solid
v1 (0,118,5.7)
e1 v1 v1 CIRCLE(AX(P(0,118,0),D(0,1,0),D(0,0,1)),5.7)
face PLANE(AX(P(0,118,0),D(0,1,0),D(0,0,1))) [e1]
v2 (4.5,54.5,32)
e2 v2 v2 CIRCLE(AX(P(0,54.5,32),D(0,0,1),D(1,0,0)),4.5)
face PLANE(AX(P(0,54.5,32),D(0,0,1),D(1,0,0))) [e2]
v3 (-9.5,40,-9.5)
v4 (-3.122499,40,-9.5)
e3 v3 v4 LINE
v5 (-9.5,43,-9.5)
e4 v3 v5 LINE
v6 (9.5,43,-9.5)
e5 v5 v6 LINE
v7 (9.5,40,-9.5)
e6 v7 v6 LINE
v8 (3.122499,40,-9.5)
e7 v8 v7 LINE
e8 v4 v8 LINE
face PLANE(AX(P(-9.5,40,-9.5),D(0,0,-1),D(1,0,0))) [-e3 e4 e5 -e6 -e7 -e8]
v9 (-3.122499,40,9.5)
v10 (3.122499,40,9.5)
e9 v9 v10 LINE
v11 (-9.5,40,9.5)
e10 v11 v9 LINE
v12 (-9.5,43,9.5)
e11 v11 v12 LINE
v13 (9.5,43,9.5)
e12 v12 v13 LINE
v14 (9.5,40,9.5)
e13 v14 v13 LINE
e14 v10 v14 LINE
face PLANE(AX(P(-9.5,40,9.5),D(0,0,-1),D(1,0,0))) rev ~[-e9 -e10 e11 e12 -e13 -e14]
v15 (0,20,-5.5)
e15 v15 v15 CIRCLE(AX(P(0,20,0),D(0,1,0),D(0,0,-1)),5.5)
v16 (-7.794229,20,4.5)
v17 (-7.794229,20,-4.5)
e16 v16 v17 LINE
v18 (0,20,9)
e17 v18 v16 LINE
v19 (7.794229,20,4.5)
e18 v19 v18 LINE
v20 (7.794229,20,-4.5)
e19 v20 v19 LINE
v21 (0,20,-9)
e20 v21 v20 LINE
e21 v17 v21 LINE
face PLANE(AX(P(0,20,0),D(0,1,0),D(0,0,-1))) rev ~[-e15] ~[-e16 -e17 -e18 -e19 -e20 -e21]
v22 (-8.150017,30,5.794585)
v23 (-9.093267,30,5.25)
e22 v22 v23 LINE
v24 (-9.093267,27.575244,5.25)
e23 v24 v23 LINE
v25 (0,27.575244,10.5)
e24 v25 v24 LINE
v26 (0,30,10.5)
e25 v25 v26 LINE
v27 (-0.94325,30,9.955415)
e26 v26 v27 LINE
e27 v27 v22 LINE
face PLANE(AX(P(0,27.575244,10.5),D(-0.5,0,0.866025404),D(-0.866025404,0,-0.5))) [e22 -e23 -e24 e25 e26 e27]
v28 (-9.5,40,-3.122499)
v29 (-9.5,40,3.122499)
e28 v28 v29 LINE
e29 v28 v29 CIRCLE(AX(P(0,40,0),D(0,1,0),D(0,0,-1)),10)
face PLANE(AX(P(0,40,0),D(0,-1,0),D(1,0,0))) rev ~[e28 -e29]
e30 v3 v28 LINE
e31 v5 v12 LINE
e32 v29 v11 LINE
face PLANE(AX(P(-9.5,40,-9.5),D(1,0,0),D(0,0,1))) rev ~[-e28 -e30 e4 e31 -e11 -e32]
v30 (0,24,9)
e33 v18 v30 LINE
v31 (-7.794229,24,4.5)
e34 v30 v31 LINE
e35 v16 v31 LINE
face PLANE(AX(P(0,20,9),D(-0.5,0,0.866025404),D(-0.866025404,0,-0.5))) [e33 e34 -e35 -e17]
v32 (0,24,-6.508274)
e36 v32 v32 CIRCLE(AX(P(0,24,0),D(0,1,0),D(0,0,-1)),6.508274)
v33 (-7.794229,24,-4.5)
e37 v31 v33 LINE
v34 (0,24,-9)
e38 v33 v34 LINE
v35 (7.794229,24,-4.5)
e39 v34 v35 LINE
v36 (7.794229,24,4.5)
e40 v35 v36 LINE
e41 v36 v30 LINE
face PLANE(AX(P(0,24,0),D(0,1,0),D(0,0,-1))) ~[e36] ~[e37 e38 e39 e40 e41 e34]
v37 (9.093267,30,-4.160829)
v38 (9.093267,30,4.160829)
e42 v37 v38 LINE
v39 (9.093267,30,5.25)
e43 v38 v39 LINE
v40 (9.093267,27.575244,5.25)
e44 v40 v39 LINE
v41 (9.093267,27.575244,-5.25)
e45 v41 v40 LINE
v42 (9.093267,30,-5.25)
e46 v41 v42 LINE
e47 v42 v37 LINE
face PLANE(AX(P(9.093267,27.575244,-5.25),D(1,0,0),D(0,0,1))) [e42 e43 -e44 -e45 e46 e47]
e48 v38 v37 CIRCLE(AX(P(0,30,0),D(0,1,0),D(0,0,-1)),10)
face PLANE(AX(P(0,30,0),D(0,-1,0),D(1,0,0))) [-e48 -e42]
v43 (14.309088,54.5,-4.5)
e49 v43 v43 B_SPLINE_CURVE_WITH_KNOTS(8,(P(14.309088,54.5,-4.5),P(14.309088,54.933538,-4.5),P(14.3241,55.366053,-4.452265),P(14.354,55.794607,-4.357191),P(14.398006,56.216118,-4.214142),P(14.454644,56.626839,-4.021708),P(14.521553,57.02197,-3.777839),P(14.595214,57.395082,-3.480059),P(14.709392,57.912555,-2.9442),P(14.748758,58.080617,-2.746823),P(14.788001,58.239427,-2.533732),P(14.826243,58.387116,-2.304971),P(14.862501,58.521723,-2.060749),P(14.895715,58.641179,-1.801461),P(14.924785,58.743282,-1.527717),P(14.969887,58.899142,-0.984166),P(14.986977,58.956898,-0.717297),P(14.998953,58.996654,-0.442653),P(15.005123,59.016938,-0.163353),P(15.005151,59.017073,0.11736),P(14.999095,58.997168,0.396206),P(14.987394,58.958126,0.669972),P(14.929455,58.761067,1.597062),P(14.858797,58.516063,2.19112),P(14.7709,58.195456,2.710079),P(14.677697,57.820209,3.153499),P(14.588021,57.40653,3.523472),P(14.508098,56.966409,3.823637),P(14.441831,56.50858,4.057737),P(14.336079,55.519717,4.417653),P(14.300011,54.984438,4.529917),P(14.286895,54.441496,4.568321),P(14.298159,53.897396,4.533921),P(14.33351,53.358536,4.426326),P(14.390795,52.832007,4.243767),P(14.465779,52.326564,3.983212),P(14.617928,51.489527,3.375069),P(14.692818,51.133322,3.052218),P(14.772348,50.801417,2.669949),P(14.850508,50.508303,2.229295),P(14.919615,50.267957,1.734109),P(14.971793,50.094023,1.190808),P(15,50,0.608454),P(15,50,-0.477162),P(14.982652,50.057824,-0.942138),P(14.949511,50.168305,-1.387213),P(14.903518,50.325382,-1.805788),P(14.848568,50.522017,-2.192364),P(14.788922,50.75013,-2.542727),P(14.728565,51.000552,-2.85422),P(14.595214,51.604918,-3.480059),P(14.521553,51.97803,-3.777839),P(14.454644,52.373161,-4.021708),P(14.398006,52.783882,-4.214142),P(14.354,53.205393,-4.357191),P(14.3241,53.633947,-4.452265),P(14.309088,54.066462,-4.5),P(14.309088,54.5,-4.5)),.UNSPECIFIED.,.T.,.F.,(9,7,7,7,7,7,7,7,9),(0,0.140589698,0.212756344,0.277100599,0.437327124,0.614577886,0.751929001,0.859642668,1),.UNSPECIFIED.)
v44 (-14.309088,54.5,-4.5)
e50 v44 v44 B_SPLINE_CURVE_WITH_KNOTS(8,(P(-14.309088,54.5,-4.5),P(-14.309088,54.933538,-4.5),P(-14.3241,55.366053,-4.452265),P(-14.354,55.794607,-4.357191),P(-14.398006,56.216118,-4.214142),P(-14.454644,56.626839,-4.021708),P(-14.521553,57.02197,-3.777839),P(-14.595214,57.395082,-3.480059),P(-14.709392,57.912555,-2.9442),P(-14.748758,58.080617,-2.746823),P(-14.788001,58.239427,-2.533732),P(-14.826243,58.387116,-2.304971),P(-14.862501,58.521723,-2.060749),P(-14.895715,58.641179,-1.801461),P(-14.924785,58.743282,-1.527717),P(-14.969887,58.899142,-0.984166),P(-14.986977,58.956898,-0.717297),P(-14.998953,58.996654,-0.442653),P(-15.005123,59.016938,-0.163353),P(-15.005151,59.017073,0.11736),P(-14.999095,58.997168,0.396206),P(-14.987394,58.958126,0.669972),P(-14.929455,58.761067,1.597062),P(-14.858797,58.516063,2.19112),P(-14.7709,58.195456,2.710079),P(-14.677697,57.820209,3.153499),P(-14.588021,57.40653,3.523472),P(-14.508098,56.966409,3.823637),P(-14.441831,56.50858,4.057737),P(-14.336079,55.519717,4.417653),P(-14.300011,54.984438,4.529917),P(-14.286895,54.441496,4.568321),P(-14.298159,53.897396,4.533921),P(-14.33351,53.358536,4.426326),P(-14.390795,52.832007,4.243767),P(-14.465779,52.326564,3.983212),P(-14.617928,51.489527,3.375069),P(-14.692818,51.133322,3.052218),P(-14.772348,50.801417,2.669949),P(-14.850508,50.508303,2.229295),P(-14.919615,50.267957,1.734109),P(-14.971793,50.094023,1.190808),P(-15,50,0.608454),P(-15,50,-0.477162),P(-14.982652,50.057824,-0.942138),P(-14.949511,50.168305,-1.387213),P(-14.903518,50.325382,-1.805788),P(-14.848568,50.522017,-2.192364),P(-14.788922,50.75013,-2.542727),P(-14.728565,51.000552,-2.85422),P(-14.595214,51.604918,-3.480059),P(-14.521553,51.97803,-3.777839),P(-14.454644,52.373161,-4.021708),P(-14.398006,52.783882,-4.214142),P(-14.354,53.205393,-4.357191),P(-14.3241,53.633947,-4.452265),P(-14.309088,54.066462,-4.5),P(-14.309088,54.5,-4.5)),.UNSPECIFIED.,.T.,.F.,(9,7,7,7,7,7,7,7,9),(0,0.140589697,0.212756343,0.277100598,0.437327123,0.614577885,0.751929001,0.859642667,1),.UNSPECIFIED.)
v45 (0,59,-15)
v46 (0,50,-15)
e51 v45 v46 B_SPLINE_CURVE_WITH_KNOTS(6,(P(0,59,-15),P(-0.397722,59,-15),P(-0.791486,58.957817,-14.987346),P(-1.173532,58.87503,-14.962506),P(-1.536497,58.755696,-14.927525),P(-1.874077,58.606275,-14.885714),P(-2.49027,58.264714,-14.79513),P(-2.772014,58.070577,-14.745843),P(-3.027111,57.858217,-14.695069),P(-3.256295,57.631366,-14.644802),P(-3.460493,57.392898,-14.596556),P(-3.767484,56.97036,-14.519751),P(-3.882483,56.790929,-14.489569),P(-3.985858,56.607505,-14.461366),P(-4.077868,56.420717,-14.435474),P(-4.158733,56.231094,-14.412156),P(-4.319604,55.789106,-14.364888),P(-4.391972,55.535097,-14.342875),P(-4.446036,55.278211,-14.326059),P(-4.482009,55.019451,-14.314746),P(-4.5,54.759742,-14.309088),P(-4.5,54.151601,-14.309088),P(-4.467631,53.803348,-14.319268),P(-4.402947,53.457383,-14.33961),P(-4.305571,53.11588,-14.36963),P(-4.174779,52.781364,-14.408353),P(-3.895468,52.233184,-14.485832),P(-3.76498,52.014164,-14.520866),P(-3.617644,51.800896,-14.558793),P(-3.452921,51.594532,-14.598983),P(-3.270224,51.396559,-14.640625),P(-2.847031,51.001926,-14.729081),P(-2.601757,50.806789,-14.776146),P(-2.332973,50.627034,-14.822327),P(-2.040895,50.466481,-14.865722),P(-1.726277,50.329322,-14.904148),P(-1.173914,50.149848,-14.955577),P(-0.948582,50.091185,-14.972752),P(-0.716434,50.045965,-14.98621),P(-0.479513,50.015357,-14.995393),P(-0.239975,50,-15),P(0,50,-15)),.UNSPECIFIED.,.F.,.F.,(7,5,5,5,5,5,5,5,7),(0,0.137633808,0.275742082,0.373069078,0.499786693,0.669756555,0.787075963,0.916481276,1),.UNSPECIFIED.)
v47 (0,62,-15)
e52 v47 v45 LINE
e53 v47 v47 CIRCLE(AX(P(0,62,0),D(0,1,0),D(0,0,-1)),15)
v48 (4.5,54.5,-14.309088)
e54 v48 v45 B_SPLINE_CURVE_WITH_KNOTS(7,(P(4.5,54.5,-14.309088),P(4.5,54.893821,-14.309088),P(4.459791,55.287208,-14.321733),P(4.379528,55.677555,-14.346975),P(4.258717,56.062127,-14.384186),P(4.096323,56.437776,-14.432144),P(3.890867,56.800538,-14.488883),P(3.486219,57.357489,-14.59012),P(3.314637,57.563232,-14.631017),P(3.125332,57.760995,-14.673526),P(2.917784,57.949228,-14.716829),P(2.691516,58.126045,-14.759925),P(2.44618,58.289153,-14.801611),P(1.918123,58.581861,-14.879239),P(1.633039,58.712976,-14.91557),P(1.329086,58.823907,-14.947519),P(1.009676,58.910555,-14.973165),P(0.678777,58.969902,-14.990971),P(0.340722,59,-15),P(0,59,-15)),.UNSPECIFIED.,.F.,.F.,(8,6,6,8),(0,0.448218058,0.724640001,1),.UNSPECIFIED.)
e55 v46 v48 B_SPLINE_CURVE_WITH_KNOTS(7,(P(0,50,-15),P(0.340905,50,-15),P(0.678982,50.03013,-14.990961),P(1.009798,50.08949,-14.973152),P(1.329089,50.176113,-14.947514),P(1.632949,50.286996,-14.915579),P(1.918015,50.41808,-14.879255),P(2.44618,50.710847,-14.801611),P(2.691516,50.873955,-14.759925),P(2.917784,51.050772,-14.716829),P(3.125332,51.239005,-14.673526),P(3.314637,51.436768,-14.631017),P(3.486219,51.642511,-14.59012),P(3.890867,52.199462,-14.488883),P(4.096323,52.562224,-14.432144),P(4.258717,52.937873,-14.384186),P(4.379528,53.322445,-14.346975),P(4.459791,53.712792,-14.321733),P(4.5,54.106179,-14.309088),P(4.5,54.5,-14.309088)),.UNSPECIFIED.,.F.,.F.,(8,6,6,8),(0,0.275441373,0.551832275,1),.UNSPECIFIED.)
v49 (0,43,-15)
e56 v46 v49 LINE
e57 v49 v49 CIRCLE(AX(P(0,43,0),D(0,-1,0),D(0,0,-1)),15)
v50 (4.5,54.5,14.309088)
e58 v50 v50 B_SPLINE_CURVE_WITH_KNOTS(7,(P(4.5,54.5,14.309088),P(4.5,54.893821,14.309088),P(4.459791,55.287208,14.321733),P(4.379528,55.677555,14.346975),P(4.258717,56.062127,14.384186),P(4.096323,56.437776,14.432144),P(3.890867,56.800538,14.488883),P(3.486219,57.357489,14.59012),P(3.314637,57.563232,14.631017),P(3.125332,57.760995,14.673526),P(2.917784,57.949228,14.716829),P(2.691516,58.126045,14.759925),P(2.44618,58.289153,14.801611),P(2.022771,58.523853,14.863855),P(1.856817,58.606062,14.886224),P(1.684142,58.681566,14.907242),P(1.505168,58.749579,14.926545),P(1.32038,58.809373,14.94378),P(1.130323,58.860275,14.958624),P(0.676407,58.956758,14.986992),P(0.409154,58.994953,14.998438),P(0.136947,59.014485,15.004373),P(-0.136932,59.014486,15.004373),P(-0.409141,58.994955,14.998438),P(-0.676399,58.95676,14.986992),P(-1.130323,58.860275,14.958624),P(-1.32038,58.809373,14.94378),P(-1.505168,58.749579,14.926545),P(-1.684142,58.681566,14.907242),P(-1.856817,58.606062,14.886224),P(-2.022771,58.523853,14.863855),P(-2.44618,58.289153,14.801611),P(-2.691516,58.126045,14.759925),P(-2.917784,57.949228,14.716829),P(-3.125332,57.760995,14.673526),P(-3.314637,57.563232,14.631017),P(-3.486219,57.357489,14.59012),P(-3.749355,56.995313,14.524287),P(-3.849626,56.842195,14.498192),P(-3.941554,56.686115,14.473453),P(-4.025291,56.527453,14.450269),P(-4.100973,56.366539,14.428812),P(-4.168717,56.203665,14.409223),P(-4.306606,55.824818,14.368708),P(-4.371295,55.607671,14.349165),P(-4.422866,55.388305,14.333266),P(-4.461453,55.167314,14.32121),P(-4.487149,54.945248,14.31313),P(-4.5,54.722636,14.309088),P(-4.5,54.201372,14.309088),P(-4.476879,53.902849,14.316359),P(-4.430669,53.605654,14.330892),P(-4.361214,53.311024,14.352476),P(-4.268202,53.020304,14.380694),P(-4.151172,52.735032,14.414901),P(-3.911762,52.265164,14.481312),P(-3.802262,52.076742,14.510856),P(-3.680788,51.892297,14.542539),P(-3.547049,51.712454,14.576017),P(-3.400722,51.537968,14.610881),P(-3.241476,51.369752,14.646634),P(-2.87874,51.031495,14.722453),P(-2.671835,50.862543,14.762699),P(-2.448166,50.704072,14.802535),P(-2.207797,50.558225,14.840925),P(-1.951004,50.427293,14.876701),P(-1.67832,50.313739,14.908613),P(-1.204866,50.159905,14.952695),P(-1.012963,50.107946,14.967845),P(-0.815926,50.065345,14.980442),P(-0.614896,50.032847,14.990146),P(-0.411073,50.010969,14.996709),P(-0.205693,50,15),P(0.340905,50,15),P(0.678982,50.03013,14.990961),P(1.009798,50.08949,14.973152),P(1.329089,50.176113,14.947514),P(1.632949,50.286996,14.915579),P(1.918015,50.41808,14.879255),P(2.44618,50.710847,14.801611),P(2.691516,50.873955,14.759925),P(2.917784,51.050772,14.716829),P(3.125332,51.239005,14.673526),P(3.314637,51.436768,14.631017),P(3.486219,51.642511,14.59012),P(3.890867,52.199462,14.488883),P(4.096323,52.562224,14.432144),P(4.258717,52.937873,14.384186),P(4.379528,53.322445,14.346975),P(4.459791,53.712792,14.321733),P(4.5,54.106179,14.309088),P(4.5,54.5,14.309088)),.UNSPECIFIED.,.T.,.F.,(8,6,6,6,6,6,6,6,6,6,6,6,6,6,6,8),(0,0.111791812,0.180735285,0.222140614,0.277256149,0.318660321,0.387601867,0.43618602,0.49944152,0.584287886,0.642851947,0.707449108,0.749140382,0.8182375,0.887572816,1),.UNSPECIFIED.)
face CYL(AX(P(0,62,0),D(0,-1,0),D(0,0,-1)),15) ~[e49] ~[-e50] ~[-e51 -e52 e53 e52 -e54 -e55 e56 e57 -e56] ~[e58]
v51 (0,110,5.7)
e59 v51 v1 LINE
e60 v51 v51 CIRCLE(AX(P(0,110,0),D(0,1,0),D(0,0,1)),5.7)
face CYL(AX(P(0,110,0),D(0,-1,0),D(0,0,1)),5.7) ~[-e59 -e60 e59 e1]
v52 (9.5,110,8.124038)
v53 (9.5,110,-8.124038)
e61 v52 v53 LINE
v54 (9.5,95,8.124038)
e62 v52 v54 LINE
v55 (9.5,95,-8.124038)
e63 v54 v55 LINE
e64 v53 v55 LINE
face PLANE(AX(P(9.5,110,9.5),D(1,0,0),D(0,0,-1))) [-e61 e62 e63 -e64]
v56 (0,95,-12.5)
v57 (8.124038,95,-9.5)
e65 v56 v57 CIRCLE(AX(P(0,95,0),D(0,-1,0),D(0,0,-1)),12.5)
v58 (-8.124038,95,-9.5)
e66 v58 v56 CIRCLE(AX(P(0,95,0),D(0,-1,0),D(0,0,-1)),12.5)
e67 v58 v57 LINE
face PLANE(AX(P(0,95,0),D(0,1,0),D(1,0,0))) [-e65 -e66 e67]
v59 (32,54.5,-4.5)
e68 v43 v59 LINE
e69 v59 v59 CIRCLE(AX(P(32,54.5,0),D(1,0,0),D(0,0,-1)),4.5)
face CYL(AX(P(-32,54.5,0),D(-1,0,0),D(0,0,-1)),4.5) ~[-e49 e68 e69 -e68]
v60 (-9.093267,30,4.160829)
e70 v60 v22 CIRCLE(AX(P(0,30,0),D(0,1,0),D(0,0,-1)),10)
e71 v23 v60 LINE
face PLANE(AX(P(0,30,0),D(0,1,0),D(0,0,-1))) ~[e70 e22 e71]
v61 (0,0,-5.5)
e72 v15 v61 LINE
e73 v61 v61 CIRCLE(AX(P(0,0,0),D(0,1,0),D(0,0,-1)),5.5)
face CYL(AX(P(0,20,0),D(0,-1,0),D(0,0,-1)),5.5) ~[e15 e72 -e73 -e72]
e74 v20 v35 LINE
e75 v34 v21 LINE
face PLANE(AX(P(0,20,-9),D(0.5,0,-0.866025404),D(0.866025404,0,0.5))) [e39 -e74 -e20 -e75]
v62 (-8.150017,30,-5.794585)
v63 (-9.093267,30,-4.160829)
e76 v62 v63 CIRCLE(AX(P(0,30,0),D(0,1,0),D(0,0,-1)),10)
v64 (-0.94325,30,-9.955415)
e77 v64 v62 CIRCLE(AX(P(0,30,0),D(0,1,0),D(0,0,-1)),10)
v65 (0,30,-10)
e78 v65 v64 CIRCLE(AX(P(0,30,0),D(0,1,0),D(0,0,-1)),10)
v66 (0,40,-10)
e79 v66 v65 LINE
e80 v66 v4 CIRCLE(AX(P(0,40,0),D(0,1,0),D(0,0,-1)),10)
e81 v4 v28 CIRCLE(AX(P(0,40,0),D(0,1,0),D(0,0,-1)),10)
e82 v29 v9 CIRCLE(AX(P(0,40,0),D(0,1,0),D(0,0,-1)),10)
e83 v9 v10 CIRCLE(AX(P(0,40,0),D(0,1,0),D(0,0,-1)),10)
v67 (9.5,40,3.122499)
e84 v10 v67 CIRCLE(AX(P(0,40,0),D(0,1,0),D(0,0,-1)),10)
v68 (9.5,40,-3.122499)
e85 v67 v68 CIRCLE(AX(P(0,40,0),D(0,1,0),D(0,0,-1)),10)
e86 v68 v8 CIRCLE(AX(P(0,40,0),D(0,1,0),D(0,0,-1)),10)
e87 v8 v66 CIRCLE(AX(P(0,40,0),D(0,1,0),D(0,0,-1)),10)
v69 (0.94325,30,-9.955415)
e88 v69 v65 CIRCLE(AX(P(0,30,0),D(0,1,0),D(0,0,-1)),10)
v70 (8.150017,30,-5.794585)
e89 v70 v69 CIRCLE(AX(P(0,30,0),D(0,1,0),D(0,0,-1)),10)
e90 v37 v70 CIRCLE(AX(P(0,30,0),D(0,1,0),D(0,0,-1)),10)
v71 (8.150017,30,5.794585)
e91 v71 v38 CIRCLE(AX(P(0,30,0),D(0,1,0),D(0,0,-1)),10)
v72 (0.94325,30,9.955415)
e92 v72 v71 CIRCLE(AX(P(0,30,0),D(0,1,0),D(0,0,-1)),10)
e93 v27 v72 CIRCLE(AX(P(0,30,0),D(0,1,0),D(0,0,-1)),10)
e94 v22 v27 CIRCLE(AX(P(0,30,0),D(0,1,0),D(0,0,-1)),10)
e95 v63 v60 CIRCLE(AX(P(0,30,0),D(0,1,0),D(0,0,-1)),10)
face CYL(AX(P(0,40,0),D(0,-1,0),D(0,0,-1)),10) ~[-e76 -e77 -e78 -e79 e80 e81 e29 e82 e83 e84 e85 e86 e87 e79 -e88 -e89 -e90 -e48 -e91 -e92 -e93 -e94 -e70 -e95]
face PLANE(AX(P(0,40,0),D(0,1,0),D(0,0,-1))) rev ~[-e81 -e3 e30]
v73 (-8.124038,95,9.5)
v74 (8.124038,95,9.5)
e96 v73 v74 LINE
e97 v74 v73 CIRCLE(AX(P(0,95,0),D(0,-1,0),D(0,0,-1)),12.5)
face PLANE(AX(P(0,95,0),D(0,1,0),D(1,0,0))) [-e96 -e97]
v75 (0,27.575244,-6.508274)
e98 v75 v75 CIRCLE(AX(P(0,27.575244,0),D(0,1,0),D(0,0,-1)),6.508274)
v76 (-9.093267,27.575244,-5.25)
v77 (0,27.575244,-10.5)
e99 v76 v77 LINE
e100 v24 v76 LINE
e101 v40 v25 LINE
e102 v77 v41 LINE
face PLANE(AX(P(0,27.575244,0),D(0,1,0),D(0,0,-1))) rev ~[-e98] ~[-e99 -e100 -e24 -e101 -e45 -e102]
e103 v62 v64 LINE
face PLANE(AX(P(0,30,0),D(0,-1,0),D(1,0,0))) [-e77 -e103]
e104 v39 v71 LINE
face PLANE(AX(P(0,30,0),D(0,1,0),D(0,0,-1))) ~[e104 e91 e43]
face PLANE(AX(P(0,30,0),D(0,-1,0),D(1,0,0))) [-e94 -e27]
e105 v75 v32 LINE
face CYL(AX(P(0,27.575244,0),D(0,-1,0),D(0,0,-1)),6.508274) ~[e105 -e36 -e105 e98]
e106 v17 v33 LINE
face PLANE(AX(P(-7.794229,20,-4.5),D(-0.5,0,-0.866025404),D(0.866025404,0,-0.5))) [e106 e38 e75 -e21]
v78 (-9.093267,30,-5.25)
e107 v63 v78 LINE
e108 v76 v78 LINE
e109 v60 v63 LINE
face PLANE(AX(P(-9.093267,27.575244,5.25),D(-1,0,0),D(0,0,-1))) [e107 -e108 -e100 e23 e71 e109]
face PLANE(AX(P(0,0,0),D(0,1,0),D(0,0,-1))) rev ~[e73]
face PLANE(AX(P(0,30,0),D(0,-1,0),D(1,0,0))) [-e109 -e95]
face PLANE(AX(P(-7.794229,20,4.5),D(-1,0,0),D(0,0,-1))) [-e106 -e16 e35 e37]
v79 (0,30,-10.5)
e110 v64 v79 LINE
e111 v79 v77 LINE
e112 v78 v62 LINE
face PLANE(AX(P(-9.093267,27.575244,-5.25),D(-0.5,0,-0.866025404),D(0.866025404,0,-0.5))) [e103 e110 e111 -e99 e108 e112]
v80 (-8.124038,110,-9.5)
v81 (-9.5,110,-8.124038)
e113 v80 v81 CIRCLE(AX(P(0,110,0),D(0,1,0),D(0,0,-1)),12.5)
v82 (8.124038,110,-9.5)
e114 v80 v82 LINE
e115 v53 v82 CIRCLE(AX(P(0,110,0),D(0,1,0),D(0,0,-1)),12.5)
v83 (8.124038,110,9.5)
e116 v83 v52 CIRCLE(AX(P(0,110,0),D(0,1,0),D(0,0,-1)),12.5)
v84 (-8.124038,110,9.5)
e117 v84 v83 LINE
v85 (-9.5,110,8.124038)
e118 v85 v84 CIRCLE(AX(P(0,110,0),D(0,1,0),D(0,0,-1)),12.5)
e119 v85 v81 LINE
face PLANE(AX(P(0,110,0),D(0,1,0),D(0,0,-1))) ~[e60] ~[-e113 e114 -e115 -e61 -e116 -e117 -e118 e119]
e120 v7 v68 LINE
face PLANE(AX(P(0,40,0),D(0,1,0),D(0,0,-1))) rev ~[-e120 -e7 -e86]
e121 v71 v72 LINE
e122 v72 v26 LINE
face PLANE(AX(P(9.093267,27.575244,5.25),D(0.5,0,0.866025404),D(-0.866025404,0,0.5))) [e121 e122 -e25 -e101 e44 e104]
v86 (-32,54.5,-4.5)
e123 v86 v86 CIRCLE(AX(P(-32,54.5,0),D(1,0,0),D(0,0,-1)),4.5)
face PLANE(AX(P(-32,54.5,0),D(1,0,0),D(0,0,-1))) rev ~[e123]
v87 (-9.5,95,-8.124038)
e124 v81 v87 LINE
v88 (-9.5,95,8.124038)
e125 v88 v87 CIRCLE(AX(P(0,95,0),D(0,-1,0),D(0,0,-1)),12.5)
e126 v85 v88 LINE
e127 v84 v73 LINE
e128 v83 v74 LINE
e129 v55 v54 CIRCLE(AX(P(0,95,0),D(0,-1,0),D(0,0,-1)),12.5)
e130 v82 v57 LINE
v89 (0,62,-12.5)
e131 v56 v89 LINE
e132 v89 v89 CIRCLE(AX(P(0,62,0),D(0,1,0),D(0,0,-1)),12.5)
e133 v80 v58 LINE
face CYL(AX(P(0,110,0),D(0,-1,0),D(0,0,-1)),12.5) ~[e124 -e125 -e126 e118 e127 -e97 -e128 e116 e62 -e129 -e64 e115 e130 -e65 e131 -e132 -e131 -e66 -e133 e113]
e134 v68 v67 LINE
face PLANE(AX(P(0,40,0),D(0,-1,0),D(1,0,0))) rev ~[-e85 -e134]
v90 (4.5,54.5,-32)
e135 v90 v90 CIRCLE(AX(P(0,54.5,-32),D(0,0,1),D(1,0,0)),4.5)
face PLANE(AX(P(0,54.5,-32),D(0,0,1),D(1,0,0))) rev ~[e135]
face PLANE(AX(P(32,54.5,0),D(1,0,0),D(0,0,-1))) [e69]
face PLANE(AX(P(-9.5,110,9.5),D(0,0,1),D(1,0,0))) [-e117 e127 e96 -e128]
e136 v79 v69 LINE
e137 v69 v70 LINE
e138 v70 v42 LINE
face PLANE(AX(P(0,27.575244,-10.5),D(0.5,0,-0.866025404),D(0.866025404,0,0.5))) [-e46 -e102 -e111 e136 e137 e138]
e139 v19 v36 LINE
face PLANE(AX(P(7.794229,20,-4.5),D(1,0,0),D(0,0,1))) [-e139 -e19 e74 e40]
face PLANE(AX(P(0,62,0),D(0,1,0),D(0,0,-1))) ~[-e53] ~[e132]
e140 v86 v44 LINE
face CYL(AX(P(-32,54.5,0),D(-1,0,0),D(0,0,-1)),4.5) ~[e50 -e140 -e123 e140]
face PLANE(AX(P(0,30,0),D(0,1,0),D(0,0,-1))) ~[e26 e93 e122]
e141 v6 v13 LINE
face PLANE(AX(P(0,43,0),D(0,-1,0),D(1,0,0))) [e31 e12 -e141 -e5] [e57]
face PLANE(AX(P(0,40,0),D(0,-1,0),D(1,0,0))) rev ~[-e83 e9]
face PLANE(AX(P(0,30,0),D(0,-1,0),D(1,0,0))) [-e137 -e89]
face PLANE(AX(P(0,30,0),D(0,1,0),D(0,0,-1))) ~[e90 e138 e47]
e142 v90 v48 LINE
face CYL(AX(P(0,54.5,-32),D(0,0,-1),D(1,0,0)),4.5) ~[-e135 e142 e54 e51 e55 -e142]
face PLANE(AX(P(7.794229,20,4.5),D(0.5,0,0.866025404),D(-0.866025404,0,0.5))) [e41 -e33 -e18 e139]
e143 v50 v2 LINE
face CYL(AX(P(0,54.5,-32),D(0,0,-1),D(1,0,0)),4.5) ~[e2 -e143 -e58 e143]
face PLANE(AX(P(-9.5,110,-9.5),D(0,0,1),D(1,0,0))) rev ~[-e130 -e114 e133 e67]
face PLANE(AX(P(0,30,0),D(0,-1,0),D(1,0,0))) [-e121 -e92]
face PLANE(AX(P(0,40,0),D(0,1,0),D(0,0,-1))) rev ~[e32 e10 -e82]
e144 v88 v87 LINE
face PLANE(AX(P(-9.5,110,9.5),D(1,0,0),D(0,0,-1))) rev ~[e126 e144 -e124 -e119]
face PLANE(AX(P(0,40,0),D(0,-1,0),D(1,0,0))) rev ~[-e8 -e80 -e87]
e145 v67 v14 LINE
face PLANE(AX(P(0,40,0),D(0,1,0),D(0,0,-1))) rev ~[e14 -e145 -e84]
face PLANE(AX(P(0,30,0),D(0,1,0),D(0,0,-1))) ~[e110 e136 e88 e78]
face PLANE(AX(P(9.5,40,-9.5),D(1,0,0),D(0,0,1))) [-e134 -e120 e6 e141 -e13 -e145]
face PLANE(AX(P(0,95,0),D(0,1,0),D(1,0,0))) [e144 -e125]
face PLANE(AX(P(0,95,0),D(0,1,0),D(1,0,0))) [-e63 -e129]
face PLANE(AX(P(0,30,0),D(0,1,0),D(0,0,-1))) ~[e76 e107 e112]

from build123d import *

# Parameters (mm, degrees)
SKETCH_3_R           = 14.347327659
SKETCH_3_W           = 19
SKETCH_3_H           = 19
CUT_EXTRUDE_1_DEPTH  = 15
SKETCH_4_R           = 9.80838312
CUT_EXTRUDE_2_DEPTH  = 4
SKETCH_5_R           = 11.664818178
CUT_EXTRUDE_3_DEPTH  = 2.424756107
SKETCH_6_R           = 18.248215306
SKETCH_6_W           = 19
SKETCH_6_H           = 19
CUT_EXTRUDE_4_DEPTH  = 3
EXTRUDE_1_DEPTH      = 17
EXTRUDE_1_DEPTH_BACK = 47
SKETCH_8_R           = 4.5
SKETCH_9_R           = 5.7
EXTRUDE_2_DEPTH      = 8
EXTRUDE_3_DEPTH      = 32
EXTRUDE_3_DEPTH_BACK = 32
SKETCH_10_R          = 4.5


with BuildPart() as part:
    # Эскиз2 → Повернуть1 (revolve)
    with BuildSketch(Plane.XY, mode=Mode.PRIVATE) as revolve_1_sk:
        Polygon((0, 110), (12.5, 110), (12.5, 62), (15, 62), (15, 40), (10, 40), (10, 30), (10.5, 30), (10.5, 27.575243893), (6.508274003, 27.575243893), (6.508274003, 24), (9, 24), (9, 20), (5.5, 20), (5.5, 0), (0, 0), align=None)
    revolve(revolve_1_sk.sketch.rotate(Axis((0, 0, 0), (0, 1, 0)), 90), axis=Axis((0, 0, 0), (0, 1, 0)))

    # Эскиз3 → Вырез-Вытянуть1 (cut)
    with BuildSketch(Plane(origin=(0, 110, 0), x_dir=(1, 0, 0), z_dir=(0, 1, 0))):
        Circle(SKETCH_3_R)
        Rectangle(SKETCH_3_W, SKETCH_3_H, mode=Mode.SUBTRACT)
    extrude(amount=-CUT_EXTRUDE_1_DEPTH, mode=Mode.SUBTRACT)

    # Эскиз4 → Вырез-Вытянуть2 (cut)
    with BuildSketch(Plane.XZ.offset(-20)):
        Circle(SKETCH_4_R)
        Polygon((0, 9), (-7.794228634, 4.5), (-7.794228634, -4.5), (0, -9), (7.794228634, -4.5), (7.794228634, 4.5), align=None, mode=Mode.SUBTRACT)
    extrude(amount=-CUT_EXTRUDE_2_DEPTH, mode=Mode.SUBTRACT)

    # Эскиз5 → Вырез-Вытянуть3 (cut)
    with BuildSketch(Plane.XZ.offset(-27.575243893)):
        Circle(SKETCH_5_R)
        Polygon((0, 10.5), (-9.09326674, 5.25), (-9.09326674, -5.25), (0, -10.5), (9.09326674, -5.25), (9.09326674, 5.25), align=None, mode=Mode.SUBTRACT)
    extrude(amount=-CUT_EXTRUDE_3_DEPTH, mode=Mode.SUBTRACT)

    # Эскиз6 → Вырез-Вытянуть4 (cut)
    with BuildSketch(Plane.XZ.offset(-40)):
        Circle(SKETCH_6_R)
        Rectangle(SKETCH_6_W, SKETCH_6_H, mode=Mode.SUBTRACT)
    extrude(amount=-CUT_EXTRUDE_4_DEPTH, mode=Mode.SUBTRACT)

    # Эскиз9 → Бобышка-Вытянуть2 (add)
    with BuildSketch(Plane(origin=(0, 110, 0), x_dir=(1, 0, 0), z_dir=(0, 1, 0))):
        with Locations(Location((0, 0, 0), (0, 0, 270))):
            Circle(SKETCH_9_R)
    extrude(amount=EXTRUDE_2_DEPTH)



with BuildPart() as body_2:
    # Эскиз8 → Бобышка-Вытянуть1 (new, two sides: drawn at the far end of the back side and taken through both)
    with BuildSketch(Plane.XY.offset(15).offset(-EXTRUDE_1_DEPTH_BACK)):
        with Locations((0, 54.5)):
            Circle(SKETCH_8_R)
    extrude(amount=EXTRUDE_1_DEPTH + EXTRUDE_1_DEPTH_BACK)


with BuildPart() as part_1:
    add(part.part)

    add(body_2.part)  # Бобышка-Вытянуть3 merges body 2
    # Эскиз10 → Бобышка-Вытянуть3 (add, two sides: drawn at the far end of the back side and taken through both)
    with BuildSketch(Plane(origin=(0, 0, 0), x_dir=(0, 0, -1), z_dir=(1, 0, 0)).offset(-EXTRUDE_3_DEPTH_BACK)):
        with Locations((0, 54.5)):
            Circle(SKETCH_10_R)
    extrude(amount=EXTRUDE_3_DEPTH + EXTRUDE_3_DEPTH_BACK)


solid = part_1.part
